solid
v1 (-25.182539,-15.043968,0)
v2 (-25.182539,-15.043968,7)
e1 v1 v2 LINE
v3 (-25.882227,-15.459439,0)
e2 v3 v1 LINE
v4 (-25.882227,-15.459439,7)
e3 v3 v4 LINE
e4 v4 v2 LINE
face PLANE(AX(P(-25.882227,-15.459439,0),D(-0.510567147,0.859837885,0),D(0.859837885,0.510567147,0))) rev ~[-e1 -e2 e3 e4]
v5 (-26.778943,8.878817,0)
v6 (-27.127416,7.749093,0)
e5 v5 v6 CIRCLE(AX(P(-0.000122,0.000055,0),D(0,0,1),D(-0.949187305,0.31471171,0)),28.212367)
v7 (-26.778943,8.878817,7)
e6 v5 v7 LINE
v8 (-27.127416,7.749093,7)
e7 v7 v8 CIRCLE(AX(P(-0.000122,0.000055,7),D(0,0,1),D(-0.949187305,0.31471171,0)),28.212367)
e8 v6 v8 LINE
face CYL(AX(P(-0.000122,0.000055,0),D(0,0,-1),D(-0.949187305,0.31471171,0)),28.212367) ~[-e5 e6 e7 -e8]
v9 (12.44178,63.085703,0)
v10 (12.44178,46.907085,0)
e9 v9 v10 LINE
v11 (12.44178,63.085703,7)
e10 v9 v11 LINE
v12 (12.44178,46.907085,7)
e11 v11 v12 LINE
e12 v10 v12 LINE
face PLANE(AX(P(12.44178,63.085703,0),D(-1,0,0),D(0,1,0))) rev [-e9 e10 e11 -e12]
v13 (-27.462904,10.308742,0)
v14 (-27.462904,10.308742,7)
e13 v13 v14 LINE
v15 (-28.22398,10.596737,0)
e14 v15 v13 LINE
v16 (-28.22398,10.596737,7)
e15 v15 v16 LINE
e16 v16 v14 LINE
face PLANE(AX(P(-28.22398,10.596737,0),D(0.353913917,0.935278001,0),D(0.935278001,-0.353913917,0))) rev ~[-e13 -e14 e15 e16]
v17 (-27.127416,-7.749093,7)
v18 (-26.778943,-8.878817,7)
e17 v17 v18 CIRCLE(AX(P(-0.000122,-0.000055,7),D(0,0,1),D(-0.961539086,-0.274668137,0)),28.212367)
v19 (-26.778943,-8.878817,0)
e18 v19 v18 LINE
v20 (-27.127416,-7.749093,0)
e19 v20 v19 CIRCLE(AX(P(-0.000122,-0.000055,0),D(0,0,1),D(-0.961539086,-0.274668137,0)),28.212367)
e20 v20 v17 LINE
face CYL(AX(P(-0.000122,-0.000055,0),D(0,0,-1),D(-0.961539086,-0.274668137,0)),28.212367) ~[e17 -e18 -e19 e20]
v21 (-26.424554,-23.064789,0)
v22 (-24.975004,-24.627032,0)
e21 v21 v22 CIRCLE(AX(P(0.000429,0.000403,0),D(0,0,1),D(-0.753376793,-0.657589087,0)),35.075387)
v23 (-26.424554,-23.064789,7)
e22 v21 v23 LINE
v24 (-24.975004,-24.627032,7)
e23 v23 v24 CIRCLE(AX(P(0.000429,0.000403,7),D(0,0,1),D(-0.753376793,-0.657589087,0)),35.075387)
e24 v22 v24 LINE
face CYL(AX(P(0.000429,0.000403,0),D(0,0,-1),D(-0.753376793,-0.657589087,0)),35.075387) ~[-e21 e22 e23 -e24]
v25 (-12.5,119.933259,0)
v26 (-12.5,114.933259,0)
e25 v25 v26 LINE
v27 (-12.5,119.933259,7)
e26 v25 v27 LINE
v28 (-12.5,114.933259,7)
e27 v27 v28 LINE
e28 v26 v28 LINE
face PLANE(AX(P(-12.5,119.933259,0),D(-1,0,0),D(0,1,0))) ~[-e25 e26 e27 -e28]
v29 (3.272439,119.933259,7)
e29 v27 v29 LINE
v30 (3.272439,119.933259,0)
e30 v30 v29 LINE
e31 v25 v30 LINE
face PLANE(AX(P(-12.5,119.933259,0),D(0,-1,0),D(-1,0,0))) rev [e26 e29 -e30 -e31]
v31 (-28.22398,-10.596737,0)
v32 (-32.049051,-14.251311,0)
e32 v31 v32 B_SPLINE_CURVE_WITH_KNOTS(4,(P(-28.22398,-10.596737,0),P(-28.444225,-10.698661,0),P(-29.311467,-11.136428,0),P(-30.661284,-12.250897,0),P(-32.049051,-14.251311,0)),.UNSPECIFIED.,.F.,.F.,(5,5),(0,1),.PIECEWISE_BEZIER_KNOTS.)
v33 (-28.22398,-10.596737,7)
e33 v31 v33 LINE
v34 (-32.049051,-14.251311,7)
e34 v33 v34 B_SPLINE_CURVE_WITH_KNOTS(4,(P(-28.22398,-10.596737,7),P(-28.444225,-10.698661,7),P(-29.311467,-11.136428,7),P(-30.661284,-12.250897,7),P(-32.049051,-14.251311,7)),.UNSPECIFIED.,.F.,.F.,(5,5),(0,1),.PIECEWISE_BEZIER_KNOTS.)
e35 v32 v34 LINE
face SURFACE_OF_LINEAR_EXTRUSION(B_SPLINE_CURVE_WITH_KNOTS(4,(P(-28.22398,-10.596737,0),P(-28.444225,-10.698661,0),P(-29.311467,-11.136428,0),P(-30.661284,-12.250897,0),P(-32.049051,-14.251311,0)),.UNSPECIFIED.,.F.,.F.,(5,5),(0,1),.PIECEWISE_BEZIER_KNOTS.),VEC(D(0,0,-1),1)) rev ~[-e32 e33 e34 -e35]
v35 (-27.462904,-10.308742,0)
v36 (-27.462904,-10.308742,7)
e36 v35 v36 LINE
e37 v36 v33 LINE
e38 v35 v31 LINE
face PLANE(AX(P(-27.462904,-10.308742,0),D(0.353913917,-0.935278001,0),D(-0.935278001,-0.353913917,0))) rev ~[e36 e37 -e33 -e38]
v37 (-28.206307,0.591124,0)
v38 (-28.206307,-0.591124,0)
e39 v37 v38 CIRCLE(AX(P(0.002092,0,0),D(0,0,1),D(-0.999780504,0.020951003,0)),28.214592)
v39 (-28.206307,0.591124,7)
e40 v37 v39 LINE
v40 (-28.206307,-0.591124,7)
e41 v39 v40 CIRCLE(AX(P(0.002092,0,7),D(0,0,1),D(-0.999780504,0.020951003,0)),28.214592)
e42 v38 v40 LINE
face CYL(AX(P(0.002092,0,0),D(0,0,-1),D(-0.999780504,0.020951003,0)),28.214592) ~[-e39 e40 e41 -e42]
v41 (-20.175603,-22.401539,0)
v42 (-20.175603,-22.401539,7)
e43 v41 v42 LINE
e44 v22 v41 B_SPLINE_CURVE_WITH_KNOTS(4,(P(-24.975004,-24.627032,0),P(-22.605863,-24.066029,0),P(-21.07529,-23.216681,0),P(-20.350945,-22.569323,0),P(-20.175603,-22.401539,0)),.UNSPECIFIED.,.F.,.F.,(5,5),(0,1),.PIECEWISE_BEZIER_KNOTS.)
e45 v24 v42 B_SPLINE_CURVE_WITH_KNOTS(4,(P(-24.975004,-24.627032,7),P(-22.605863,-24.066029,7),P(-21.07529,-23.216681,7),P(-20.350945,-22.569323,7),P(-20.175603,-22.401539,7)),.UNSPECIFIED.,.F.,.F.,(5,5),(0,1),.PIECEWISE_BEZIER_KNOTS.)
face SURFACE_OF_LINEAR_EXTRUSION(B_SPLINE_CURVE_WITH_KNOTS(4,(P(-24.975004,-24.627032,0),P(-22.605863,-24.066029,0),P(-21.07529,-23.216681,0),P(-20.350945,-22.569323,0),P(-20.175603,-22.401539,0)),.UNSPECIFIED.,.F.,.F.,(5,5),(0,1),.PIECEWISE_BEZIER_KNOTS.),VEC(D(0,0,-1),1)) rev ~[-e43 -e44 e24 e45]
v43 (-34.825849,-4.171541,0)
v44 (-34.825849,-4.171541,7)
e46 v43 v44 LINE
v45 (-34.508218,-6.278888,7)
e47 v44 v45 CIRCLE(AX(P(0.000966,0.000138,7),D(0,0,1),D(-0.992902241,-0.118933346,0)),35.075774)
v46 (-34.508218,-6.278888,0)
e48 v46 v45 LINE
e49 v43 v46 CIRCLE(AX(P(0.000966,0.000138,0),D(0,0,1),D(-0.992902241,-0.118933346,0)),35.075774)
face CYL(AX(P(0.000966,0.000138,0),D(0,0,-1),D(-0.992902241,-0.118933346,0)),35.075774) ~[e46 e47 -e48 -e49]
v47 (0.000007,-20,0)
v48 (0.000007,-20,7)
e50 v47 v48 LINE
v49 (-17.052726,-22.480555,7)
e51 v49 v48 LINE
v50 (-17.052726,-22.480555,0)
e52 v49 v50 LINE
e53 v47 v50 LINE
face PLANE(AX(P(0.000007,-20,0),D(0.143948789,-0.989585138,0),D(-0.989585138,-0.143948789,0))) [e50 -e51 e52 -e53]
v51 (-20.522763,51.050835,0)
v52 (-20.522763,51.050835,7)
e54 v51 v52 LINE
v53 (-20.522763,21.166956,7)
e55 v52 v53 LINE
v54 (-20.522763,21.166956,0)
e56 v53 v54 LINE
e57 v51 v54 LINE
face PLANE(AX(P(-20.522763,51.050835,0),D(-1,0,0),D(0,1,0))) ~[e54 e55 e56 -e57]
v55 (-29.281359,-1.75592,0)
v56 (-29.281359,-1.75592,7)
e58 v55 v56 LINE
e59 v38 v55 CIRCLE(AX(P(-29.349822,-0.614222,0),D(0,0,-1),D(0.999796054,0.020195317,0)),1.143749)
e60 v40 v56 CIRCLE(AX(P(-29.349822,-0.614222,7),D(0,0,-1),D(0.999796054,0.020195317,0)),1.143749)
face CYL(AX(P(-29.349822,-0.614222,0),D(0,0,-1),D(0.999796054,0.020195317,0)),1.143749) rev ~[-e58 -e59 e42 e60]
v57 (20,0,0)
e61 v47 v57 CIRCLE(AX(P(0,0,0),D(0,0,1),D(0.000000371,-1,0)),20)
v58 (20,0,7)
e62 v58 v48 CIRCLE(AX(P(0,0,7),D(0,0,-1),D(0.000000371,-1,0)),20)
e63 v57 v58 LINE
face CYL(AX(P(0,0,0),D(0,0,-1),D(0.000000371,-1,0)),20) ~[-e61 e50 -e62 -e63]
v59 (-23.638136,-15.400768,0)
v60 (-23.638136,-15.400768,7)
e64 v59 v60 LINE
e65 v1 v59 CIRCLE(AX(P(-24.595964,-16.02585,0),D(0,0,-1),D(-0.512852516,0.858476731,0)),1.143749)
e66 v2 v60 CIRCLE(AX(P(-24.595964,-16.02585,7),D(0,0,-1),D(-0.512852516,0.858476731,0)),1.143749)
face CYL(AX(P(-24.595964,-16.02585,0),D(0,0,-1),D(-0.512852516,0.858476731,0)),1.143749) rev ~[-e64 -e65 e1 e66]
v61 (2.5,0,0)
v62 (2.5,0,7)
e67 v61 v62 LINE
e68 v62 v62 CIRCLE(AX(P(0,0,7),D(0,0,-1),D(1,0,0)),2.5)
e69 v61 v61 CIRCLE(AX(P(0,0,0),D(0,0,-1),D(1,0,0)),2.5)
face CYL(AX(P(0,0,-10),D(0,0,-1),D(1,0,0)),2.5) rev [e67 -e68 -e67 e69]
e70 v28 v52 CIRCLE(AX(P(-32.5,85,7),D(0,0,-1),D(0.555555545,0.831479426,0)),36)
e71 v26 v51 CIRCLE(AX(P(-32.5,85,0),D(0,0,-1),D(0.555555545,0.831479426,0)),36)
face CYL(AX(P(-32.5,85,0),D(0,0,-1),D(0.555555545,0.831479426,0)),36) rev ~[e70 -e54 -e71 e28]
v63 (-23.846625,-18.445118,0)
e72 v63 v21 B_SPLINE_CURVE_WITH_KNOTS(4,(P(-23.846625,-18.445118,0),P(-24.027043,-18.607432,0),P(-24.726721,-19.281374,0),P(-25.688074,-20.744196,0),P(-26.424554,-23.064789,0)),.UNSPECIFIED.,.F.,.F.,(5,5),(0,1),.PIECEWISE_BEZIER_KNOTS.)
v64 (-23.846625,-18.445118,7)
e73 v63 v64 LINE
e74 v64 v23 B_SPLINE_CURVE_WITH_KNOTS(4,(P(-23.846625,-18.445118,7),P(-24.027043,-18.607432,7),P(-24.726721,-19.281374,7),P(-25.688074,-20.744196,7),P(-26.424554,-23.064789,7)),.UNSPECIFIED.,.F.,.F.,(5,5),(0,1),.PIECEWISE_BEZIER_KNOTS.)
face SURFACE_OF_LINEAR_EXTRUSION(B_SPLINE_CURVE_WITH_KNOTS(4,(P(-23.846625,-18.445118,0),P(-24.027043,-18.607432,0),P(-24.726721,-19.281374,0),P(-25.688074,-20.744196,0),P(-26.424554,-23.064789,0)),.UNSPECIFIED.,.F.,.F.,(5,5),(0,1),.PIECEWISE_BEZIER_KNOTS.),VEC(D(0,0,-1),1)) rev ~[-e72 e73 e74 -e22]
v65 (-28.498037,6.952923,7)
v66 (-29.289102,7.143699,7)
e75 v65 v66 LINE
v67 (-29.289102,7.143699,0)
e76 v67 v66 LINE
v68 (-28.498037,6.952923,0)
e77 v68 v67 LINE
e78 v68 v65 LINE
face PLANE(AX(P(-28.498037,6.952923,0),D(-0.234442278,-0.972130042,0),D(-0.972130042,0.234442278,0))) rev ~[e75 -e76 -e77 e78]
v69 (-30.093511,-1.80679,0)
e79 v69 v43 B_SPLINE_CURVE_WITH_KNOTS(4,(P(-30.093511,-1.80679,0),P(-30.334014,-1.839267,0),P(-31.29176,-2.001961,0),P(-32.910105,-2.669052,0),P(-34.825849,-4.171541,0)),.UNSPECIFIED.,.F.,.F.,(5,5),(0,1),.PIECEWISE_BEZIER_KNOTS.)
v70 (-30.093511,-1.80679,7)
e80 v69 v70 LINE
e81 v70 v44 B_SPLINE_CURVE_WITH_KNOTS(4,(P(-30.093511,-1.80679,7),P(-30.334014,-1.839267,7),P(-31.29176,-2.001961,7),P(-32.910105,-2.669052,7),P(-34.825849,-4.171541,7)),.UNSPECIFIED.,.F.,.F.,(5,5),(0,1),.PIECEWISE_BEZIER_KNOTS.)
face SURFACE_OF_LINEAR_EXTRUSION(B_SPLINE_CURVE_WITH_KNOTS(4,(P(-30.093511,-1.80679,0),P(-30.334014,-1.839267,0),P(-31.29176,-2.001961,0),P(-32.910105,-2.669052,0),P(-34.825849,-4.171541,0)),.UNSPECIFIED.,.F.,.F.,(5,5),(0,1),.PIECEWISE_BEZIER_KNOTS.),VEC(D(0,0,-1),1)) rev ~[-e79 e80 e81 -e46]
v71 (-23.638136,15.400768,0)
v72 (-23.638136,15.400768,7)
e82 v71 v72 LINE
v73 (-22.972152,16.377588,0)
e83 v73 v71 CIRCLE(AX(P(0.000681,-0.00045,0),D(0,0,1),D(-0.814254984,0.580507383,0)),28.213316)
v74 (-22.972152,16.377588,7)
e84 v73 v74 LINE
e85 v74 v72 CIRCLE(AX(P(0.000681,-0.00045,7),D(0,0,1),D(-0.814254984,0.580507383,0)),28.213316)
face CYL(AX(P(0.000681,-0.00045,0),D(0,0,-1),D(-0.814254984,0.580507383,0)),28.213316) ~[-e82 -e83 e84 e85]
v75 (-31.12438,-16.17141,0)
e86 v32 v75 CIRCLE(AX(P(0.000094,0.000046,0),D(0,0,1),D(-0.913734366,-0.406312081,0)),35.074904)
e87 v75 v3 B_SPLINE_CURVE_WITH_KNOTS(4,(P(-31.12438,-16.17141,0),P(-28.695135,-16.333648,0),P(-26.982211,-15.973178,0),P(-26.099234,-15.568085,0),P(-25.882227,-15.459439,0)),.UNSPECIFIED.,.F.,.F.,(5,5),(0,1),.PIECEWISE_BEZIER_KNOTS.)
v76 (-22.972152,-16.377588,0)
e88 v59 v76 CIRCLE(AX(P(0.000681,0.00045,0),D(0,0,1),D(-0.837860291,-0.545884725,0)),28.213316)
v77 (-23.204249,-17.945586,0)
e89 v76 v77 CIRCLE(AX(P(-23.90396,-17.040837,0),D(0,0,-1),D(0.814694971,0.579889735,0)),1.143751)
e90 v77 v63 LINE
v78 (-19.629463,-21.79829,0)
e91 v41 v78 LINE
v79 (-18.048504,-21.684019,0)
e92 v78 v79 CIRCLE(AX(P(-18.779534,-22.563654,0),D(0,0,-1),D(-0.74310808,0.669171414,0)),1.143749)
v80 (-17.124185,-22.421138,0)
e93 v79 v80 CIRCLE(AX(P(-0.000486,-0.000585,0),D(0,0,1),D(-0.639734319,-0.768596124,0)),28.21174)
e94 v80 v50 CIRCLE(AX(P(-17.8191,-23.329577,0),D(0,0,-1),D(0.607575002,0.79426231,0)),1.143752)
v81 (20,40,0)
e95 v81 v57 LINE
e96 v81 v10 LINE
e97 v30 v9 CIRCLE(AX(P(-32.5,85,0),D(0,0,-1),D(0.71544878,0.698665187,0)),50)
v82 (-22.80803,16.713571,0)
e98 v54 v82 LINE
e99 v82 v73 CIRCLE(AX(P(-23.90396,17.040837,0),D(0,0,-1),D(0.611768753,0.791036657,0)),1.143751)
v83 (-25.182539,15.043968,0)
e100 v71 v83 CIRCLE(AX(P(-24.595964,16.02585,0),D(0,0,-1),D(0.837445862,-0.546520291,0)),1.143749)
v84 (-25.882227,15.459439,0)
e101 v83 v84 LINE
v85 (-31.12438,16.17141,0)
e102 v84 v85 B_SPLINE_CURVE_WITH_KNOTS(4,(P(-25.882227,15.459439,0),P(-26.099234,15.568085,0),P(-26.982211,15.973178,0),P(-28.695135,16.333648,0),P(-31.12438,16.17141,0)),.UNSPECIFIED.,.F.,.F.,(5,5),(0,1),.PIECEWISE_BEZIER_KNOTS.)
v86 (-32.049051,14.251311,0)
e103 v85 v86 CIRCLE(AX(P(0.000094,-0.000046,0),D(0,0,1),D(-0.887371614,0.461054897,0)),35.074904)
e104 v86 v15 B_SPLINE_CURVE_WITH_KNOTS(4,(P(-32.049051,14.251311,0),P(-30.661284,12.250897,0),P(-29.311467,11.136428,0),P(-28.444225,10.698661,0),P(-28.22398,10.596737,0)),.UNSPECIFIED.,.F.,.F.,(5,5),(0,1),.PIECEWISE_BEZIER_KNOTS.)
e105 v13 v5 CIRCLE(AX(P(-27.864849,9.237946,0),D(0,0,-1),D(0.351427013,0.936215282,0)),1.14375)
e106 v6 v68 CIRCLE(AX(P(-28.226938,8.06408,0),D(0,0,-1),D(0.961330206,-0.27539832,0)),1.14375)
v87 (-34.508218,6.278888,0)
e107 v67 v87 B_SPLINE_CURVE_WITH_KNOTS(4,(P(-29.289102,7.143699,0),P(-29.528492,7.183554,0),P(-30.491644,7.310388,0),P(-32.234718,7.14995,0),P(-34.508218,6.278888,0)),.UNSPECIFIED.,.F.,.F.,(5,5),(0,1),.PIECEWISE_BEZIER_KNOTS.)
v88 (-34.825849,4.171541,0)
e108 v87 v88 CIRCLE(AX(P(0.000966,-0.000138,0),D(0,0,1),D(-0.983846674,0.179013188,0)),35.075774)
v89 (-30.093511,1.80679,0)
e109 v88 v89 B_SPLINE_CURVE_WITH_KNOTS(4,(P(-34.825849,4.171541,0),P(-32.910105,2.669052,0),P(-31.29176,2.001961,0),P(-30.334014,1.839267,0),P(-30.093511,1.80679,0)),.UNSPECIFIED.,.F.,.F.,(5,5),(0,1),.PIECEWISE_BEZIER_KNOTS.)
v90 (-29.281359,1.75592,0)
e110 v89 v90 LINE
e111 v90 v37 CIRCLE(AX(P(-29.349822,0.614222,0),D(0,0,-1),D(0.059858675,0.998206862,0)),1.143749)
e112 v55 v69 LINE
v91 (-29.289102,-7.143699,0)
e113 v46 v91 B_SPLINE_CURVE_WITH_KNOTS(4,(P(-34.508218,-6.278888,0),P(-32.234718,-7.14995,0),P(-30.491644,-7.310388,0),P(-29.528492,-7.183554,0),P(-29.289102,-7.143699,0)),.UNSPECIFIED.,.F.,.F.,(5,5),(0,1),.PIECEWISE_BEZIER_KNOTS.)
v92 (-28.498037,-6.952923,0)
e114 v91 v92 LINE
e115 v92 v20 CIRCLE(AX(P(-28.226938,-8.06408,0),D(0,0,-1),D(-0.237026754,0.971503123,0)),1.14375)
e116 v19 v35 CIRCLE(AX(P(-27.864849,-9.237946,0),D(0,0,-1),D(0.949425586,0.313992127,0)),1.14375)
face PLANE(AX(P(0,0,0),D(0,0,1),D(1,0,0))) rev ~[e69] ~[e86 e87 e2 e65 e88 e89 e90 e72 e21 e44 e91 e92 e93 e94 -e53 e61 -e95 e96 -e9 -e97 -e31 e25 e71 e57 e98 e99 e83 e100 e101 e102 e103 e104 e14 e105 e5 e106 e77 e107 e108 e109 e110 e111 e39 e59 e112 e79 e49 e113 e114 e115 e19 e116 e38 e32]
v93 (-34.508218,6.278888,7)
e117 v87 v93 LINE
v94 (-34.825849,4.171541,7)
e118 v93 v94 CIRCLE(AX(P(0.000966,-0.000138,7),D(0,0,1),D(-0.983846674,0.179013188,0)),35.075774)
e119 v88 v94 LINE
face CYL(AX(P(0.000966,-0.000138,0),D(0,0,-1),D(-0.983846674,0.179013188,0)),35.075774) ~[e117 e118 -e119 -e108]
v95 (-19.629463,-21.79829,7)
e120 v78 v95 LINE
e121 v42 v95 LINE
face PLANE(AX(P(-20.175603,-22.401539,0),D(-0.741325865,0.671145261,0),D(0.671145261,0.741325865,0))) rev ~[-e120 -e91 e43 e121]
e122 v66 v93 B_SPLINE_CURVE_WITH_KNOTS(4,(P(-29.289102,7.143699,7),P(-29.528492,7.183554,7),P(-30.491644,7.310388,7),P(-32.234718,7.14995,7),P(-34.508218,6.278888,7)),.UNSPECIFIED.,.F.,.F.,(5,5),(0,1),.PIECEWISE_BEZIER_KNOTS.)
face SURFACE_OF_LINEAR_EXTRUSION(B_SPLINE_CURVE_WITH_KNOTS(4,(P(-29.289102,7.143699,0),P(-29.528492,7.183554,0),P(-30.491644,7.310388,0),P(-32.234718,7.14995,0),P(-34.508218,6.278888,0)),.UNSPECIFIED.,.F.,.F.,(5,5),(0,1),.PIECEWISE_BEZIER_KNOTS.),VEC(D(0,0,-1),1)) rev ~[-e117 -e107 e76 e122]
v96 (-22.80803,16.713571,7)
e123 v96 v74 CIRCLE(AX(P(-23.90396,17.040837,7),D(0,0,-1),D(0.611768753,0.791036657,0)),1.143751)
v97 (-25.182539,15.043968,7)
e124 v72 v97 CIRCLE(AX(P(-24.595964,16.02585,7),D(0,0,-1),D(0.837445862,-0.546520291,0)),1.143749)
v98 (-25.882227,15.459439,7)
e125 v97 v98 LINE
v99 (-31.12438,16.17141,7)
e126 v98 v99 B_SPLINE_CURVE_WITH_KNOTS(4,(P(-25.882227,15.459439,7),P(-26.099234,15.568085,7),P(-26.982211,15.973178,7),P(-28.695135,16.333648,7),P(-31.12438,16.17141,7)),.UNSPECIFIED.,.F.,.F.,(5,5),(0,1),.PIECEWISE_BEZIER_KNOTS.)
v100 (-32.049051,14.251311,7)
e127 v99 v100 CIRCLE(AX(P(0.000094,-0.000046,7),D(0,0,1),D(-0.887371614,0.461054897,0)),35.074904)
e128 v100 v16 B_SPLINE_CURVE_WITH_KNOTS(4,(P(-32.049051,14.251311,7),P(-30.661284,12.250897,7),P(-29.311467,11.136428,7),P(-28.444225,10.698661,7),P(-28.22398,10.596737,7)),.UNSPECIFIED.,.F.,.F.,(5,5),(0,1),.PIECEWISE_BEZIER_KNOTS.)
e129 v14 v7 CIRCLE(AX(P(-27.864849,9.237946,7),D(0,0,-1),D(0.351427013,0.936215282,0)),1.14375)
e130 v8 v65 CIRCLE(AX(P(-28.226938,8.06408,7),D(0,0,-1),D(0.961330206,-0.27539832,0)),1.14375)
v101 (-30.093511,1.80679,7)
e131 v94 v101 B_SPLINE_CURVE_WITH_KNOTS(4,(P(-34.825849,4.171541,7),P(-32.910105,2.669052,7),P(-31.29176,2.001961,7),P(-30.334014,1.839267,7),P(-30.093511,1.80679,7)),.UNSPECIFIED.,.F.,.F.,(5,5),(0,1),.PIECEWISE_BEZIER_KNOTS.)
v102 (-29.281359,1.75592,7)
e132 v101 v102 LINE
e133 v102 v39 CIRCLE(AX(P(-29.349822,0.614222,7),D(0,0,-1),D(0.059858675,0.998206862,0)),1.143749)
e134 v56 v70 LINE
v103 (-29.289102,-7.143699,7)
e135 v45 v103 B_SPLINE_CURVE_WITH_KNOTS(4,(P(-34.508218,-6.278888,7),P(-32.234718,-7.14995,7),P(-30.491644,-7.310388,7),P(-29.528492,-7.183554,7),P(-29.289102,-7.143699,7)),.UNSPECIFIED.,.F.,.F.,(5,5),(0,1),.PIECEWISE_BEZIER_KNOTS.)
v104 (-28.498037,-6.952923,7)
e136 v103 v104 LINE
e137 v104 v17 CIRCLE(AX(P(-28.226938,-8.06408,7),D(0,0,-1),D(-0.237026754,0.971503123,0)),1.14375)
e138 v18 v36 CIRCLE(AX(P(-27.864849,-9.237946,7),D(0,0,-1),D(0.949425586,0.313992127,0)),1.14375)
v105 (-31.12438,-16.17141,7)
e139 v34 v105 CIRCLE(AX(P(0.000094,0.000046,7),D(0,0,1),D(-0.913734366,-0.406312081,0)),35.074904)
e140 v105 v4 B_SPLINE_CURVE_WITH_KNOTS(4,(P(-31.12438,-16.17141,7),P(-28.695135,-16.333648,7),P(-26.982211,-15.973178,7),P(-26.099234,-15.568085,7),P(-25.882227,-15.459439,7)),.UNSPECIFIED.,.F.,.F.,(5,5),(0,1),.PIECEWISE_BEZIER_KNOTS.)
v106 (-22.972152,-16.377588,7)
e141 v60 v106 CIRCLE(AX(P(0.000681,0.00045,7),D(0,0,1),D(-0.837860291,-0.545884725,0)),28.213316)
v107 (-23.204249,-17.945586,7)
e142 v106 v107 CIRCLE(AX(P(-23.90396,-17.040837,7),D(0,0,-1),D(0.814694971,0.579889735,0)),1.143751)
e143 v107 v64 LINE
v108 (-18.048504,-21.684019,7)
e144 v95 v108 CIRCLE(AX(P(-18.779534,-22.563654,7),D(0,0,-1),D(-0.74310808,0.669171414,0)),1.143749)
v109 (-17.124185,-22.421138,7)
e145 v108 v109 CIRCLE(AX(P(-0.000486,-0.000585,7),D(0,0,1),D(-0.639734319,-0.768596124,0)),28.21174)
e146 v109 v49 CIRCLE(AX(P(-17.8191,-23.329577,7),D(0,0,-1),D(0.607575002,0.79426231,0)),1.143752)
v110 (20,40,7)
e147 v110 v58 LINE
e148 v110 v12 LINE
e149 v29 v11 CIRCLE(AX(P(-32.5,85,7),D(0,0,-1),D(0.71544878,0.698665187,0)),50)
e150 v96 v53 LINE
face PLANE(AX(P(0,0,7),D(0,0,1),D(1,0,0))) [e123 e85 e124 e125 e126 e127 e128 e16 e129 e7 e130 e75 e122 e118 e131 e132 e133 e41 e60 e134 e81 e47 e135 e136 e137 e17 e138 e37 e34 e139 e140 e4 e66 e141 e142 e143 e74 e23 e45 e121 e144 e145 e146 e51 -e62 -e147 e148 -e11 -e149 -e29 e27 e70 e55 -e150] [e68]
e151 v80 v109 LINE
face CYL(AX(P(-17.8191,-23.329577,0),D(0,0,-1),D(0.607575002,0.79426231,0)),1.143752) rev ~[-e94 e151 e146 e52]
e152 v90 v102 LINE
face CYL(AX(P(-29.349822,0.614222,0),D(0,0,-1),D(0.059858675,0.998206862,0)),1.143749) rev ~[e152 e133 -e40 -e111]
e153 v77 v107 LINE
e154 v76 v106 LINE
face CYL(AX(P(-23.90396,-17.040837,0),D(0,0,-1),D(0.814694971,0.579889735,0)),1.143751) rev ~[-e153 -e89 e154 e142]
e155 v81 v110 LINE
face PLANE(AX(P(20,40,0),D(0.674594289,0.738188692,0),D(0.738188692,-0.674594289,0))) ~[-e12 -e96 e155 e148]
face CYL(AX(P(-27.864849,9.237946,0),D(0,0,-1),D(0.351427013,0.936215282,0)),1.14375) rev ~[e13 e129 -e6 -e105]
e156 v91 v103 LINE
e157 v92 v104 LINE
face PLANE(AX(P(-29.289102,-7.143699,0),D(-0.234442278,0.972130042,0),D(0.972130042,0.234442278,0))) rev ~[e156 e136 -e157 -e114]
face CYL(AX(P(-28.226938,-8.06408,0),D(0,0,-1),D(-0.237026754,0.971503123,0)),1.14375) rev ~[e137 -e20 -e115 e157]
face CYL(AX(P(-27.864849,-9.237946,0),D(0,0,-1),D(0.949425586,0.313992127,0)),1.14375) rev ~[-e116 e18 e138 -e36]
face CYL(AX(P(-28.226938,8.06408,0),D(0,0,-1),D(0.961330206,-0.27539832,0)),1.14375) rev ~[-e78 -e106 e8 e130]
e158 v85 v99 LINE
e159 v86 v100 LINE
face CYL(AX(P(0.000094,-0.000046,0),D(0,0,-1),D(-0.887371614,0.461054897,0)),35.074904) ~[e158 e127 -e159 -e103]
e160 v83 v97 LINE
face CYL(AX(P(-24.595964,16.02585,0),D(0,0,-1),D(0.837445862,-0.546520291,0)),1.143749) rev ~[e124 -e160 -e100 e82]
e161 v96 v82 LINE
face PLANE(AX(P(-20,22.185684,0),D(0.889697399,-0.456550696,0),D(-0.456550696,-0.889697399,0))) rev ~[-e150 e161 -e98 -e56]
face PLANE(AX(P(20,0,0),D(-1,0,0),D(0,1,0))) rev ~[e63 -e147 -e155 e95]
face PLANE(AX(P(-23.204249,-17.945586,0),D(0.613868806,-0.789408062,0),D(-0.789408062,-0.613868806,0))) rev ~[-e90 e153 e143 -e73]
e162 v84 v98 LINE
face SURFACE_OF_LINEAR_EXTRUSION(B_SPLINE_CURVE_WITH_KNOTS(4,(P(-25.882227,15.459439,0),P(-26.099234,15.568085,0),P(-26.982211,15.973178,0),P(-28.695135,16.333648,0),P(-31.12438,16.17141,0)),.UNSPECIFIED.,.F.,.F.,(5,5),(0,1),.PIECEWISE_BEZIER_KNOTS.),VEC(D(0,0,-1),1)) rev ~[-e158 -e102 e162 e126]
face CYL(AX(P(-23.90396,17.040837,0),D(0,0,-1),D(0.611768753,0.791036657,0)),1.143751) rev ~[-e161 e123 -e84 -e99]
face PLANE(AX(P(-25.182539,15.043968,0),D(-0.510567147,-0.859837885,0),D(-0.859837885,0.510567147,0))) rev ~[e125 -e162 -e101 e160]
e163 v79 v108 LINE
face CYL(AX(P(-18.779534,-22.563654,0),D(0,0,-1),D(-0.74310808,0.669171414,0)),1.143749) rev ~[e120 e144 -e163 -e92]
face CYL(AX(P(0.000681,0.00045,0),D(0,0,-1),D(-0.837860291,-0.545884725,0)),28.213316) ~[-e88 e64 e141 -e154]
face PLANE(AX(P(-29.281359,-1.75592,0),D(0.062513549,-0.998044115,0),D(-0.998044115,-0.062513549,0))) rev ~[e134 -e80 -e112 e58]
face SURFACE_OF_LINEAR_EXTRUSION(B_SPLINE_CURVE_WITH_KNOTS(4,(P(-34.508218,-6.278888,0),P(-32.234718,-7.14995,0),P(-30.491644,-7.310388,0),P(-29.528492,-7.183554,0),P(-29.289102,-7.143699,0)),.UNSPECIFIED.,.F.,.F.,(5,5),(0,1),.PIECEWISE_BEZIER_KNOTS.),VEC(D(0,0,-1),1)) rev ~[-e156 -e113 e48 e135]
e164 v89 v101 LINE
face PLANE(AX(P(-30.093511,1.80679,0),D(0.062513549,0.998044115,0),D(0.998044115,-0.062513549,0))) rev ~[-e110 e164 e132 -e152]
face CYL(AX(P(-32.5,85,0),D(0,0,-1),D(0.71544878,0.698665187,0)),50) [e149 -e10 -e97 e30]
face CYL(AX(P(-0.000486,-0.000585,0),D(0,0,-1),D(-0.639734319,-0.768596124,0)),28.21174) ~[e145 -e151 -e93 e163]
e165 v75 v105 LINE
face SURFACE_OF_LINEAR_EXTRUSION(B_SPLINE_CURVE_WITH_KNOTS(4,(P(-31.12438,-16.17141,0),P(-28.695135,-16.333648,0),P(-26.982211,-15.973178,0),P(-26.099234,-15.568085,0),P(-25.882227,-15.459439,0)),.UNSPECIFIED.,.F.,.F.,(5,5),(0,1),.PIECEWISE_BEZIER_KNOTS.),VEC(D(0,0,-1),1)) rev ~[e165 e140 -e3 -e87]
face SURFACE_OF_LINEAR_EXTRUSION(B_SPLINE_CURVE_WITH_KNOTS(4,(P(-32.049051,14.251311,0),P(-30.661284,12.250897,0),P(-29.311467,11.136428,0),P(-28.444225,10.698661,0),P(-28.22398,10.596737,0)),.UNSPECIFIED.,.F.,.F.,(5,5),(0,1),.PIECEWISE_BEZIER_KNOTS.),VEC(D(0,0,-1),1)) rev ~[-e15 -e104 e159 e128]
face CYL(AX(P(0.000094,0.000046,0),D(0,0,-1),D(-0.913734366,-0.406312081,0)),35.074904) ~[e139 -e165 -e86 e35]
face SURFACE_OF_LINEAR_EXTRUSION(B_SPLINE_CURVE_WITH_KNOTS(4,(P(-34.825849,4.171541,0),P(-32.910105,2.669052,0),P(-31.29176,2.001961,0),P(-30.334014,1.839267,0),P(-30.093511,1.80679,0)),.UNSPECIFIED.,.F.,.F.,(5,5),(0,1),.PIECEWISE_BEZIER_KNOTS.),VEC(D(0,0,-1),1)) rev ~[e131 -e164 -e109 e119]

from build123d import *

# Parameters (mm, degrees)
PAD005_DEPTH      = 10
CYLINDER001_R     = 2.5
CYLINDER001_DEPTH = 30
PAD_DEPTH         = 7
PAD001_DEPTH      = 7


with BuildPart() as gearcutter_d:
    # Sketch007 → Pad005 (new body)
    with BuildSketch(Plane.XY):
        with BuildLine():
            Line((20, 31.95888), (45.304215, 31.95888))
            Line((45.304215, 31.95888), (45.304215, -33.652056))
            Line((45.304215, -33.652056), (23.213182, -33.652056))
            Line((-17.372387, -39.01239), (23.213182, -33.652056))
            Line((-25.984375, -33.578197), (-17.372387, -39.01239))
            Line((-17.23691, -22.507347), (-25.984375, -33.578197))
            Line((7e-06, -20), (-17.23691, -22.507347))
            ThreePointArc((7e-06, -20), (14.142138, -14.142133), (20, 0))
            Line((20, 0), (20, 31.95888))
        make_face()
        Polygon((-20, 22.185684), (-22.978563, 16.381247), (-30, 23.81991), (-24.00174, 30), align=None)
    extrude(amount=PAD005_DEPTH)


with BuildPart() as hole:
    # Cylinder001 → Cylinder001 (new body)
    with BuildSketch(Plane.XY.offset(-10)):
        Circle(CYLINDER001_R)
    extrude(amount=CYLINDER001_DEPTH)


with BuildPart() as cut002:
    # InvoluteGear → Pad (new body)
    with BuildSketch(Plane.XY):
        with BuildLine():
            Line((29.216017, -2.627852), (30.02668, -2.698596))
            add(Edge.make_bspline(
                [(30.02668, -2.698596), (30.269336, -2.702327), (31.240634, -2.684194), (32.940327, -2.265756), (35.058609, -1.065575)],
                knots=[0, 0, 0, 0, 0, 1, 1, 1, 1, 1], degree=4))
            ThreePointArc((35.058609, -1.065575), (35.074799, 0), (35.058609, 1.065575))
            add(Edge.make_bspline(
                [(35.058609, 1.065575), (32.940327, 2.265756), (31.240634, 2.684194), (30.269336, 2.702327), (30.02668, 2.698596)],
                knots=[0, 0, 0, 0, 0, 1, 1, 1, 1, 1], degree=4))
            Line((30.02668, 2.698596), (29.216017, 2.627852))
            ThreePointArc((29.216017, 2.627852), (28.398075, 2.874673), (27.979368, 3.61941))
            ThreePointArc((27.979368, 3.61941), (27.89739, 4.204855), (27.803163, 4.788454))
            ThreePointArc((27.803163, 4.788454), (27.983753, 5.62352), (28.692604, 6.100468))
            Line((28.692604, 6.100468), (29.488104, 6.271815))
            add(Edge.make_bspline(
                [(29.488104, 6.271815), (29.72108, 6.339774), (30.64388, 6.643396), (32.144724, 7.544237), (33.815137, 9.315472)],
                knots=[0, 0, 0, 0, 0, 1, 1, 1, 1, 1], degree=4))
            ThreePointArc((33.815137, 9.315472), (33.516524, 10.338478), (33.18697, 11.351941))
            add(Edge.make_bspline(
                [(33.18697, 11.351941), (30.809038, 11.874427), (29.06152, 11.773281), (28.12803, 11.504313), (27.897254, 11.429224)],
                knots=[0, 0, 0, 0, 0, 1, 1, 1, 1, 1], degree=4))
            Line((27.897254, 11.429224), (27.143458, 11.122676))
            ThreePointArc((27.143458, 11.122676), (26.289104, 11.117439), (25.669483, 11.705673))
            ThreePointArc((25.669483, 11.705673), (25.418584, 12.240945), (25.156525, 12.770842))
            ThreePointArc((25.156525, 12.770842), (25.082952, 13.622039), (25.619728, 14.286735))
            Line((25.619728, 14.286735), (26.32938, 14.684947))
            add(Edge.make_bspline(
                [(26.32938, 14.684947), (26.531974, 14.818557), (27.324283, 15.380691), (28.492921, 16.683892), (29.567042, 18.868799)],
                knots=[0, 0, 0, 0, 0, 1, 1, 1, 1, 1], degree=4))
            ThreePointArc((29.567042, 18.868799), (28.980159, 19.758338), (28.366523, 20.629637))
            add(Edge.make_bspline(
                [(28.366523, 20.629637), (25.94023, 20.428003), (24.300163, 19.816261), (23.487425, 19.284092), (23.289034, 19.144315)],
                knots=[0, 0, 0, 0, 0, 1, 1, 1, 1, 1], degree=4))
            Line((23.289034, 19.144315), (22.659084, 18.629202))
            ThreePointArc((22.659084, 18.629202), (21.84423, 18.372372), (21.078752, 18.751836))
            ThreePointArc((21.078752, 18.751836), (20.681226, 19.189373), (20.274619, 19.618485))
            ThreePointArc((20.274619, 19.618485), (19.95342, 20.41018), (20.270426, 21.203563))
            Line((20.270426, 21.203563), (20.831176, 21.793257))
            add(Edge.make_bspline(
                [(20.831176, 21.793257), (20.985387, 21.980647), (21.576804, 22.751344), (22.309397, 24.341109), (22.691785, 26.745549)],
                knots=[0, 0, 0, 0, 0, 1, 1, 1, 1, 1], degree=4))
            ThreePointArc((22.691785, 26.745549), (21.868779, 27.422582), (21.025585, 28.074299))
            add(Edge.make_bspline(
                [(21.025585, 28.074299), (18.766519, 27.166461), (17.37963, 26.098479), (16.759858, 25.350393), (16.611482, 25.15835)],
                knots=[0, 0, 0, 0, 0, 1, 1, 1, 1, 1], degree=4))
            Line((16.611482, 25.15835), (16.161351, 24.480441))
            ThreePointArc((16.161351, 24.480441), (15.4584, 23.994839), (14.615082, 24.131816))
            ThreePointArc((14.615082, 24.131816), (14.10625, 24.432742), (13.591225, 24.72294))
            ThreePointArc((13.591225, 24.72294), (13.05094, 25.384787), (13.120008, 26.236361))
            Line((13.120008, 26.236361), (13.48203, 26.96514))
            add(Edge.make_bspline(
                [(13.48203, 26.96514), (13.574155, 27.18966), (13.912131, 28.10044), (14.143586, 29.835512), (13.800264, 32.245841)],
                knots=[0, 0, 0, 0, 0, 1, 1, 1, 1, 1], degree=4))
            ThreePointArc((13.800264, 32.245841), (12.814263, 32.65021), (11.816433, 33.024437))
            add(Edge.make_bspline(
                [(11.816433, 33.024437), (9.92532, 31.49106), (8.91484, 30.061732), (8.543105, 29.164202), (8.457926, 28.936956)],
                knots=[0, 0, 0, 0, 0, 1, 1, 1, 1, 1], degree=4))
            Line((8.457926, 28.936956), (8.227611, 28.156485))
            ThreePointArc((8.227611, 28.156485), (7.699024, 27.485259), (6.852797, 27.367578))
            ThreePointArc((6.852797, 27.367578), (6.277872, 27.505154), (5.70019, 27.630653))
            ThreePointArc((5.70019, 27.630653), (4.988826, 28.103844), (4.80382, 28.937943))
            Line((4.80382, 28.937943), (4.934946, 29.741053))
            add(Edge.make_bspline(
                [(4.934946, 29.741053), (4.956801, 29.982752), (5.011304, 30.952689), (4.721054, 32.678899), (3.682528, 34.880948)],
                knots=[0, 0, 0, 0, 0, 1, 1, 1, 1, 1], degree=4))
            ThreePointArc((3.682528, 34.880948), (2.621143, 34.976723), (1.557338, 35.040209))
            add(Edge.make_bspline(
                [(1.557338, 35.040209), (0.202213, 33.01754), (-0.342073, 31.353869), (-0.43274, 30.386642), (-0.447153, 30.144385)],
                knots=[0, 0, 0, 0, 0, 1, 1, 1, 1, 1], degree=4))
            Line((-0.447153, 30.144385), (-0.437188, 29.330703))
            ThreePointArc((-0.437188, 29.330703), (-0.744444, 28.533493), (-1.518389, 28.171611))
            ThreePointArc((-1.518389, 28.171611), (-2.108323, 28.133612), (-2.697331, 28.083261))
            ThreePointArc((-2.697331, 28.083261), (-3.516567, 28.325751), (-3.939209, 29.068262))
            Line((-3.939209, 29.068262), (-4.050629, 29.874342))
            add(Edge.make_bspline(
                [(-4.050629, 29.874342), (-4.100987, 30.111745), (-4.3348, 31.054656), (-5.120964, 32.618623), (-6.762416, 34.416729)],
                knots=[0, 0, 0, 0, 0, 1, 1, 1, 1, 1], degree=4))
            ThreePointArc((-6.762416, 34.416729), (-7.804877, 34.195401), (-8.840133, 33.942504))
            add(Edge.make_bspline(
                [(-8.840133, 33.942504), (-9.538861, 31.610267), (-9.56859, 29.860077), (-9.370135, 28.909097), (-9.312501, 28.673354)],
                knots=[0, 0, 0, 0, 0, 1, 1, 1, 1, 1], degree=4))
            Line((-9.312501, 28.673354), (-9.063142, 27.898758))
            ThreePointArc((-9.063142, 27.898758), (-9.121765, 27.046401), (-9.754659, 26.472472))
            ThreePointArc((-9.754659, 26.472472), (-10.307184, 26.262276), (-10.855183, 26.040548))
            ThreePointArc((-10.855183, 26.040548), (-11.709498, 26.030791), (-12.332222, 26.615739))
            Line((-12.332222, 26.615739), (-12.676288, 27.353165))
            add(Edge.make_bspline(
                [(-12.676288, 27.353165), (-12.794385, 27.565178), (-13.295737, 28.39728), (-14.507962, 29.660038), (-16.60649, 30.894434)],
                knots=[0, 0, 0, 0, 0, 1, 1, 1, 1, 1], degree=4))
            ThreePointArc((-16.60649, 30.894434), (-17.537399, 30.375667), (-18.452119, 29.828859))
            add(Edge.make_bspline(
                [(-18.452119, 29.828859), (-18.432366, 27.394282), (-17.944897, 25.713086), (-17.474952, 24.862851), (-17.350392, 24.65457)],
                knots=[0, 0, 0, 0, 0, 1, 1, 1, 1, 1], degree=4))
            Line((-17.350392, 24.65457), (-16.883795, 23.987887))
            ThreePointArc((-16.883795, 23.987887), (-16.688578, 23.156118), (-17.124185, 22.421138))
            ThreePointArc((-17.124185, 22.421138), (-17.590206, 22.057421), (-18.048504, 21.684019))
            ThreePointArc((-18.048504, 21.684019), (-18.861988, 21.422881), (-19.629463, 21.79829))
            Line((-19.629463, 21.79829), (-20.175603, 22.401539))
            add(Edge.make_bspline(
                [(-20.175603, 22.401539), (-20.350945, 22.569323), (-21.07529, 23.216681), (-22.605863, 24.066029), (-24.975004, 24.627032)],
                knots=[0, 0, 0, 0, 0, 1, 1, 1, 1, 1], degree=4))
            ThreePointArc((-24.975004, 24.627032), (-25.711647, 23.856922), (-26.424554, 23.064789))
            add(Edge.make_bspline(
                [(-26.424554, 23.064789), (-25.688074, 20.744196), (-24.726721, 19.281374), (-24.027043, 18.607432), (-23.846625, 18.445118)],
                knots=[0, 0, 0, 0, 0, 1, 1, 1, 1, 1], degree=4))
            Line((-23.846625, 18.445118), (-23.204249, 17.945586))
            ThreePointArc((-23.204249, 17.945586), (-22.772537, 17.208312), (-22.972152, 16.377588))
            ThreePointArc((-22.972152, 16.377588), (-23.310261, 15.892667), (-23.638136, 15.400768))
            ThreePointArc((-23.638136, 15.400768), (-24.338508, 14.911454), (-25.182539, 15.043968))
            Line((-25.182539, 15.043968), (-25.882227, 15.459439))
            add(Edge.make_bspline(
                [(-25.882227, 15.459439), (-26.099234, 15.568085), (-26.982211, 15.973178), (-28.695135, 16.333648), (-31.12438, 16.17141)],
                knots=[0, 0, 0, 0, 0, 1, 1, 1, 1, 1], degree=4))
            ThreePointArc((-31.12438, 16.17141), (-31.601302, 15.218385), (-32.049051, 14.251311))
            add(Edge.make_bspline(
                [(-32.049051, 14.251311), (-30.661284, 12.250897), (-29.311467, 11.136428), (-28.444225, 10.698661), (-28.22398, 10.596737)],
                knots=[0, 0, 0, 0, 0, 1, 1, 1, 1, 1], degree=4))
            Line((-28.22398, 10.596737), (-27.462904, 10.308742))
            ThreePointArc((-27.462904, 10.308742), (-26.833056, 9.731472), (-26.778943, 8.878817))
            ThreePointArc((-26.778943, 8.878817), (-26.959098, 8.31578), (-27.127416, 7.749093))
            ThreePointArc((-27.127416, 7.749093), (-27.652445, 7.075079), (-28.498037, 6.952923))
            Line((-28.498037, 6.952923), (-29.289102, 7.143699))
            add(Edge.make_bspline(
                [(-29.289102, 7.143699), (-29.528492, 7.183554), (-30.491644, 7.310388), (-32.234718, 7.14995), (-34.508218, 6.278888)],
                knots=[0, 0, 0, 0, 0, 1, 1, 1, 1, 1], degree=4))
            ThreePointArc((-34.508218, 6.278888), (-34.683042, 5.227628), (-34.825849, 4.171541))
            add(Edge.make_bspline(
                [(-34.825849, 4.171541), (-32.910105, 2.669052), (-31.29176, 2.001961), (-30.334014, 1.839267), (-30.093511, 1.80679)],
                knots=[0, 0, 0, 0, 0, 1, 1, 1, 1, 1], degree=4))
            Line((-30.093511, 1.80679), (-29.281359, 1.75592))
            ThreePointArc((-29.281359, 1.75592), (-28.50934, 1.389948), (-28.206307, 0.591124))
            ThreePointArc((-28.206307, 0.591124), (-28.2125, 0), (-28.206307, -0.591124))
            ThreePointArc((-28.206307, -0.591124), (-28.50934, -1.389948), (-29.281359, -1.75592))
            Line((-29.281359, -1.75592), (-30.093511, -1.80679))
            add(Edge.make_bspline(
                [(-30.093511, -1.80679), (-30.334014, -1.839267), (-31.29176, -2.001961), (-32.910105, -2.669052), (-34.825849, -4.171541)],
                knots=[0, 0, 0, 0, 0, 1, 1, 1, 1, 1], degree=4))
            ThreePointArc((-34.825849, -4.171541), (-34.683042, -5.227628), (-34.508218, -6.278888))
            add(Edge.make_bspline(
                [(-34.508218, -6.278888), (-32.234718, -7.14995), (-30.491644, -7.310388), (-29.528492, -7.183554), (-29.289102, -7.143699)],
                knots=[0, 0, 0, 0, 0, 1, 1, 1, 1, 1], degree=4))
            Line((-29.289102, -7.143699), (-28.498037, -6.952923))
            ThreePointArc((-28.498037, -6.952923), (-27.652445, -7.075079), (-27.127416, -7.749093))
            ThreePointArc((-27.127416, -7.749093), (-26.959098, -8.31578), (-26.778943, -8.878817))
            ThreePointArc((-26.778943, -8.878817), (-26.833056, -9.731472), (-27.462904, -10.308742))
            Line((-27.462904, -10.308742), (-28.22398, -10.596737))
            add(Edge.make_bspline(
                [(-28.22398, -10.596737), (-28.444225, -10.698661), (-29.311467, -11.136428), (-30.661284, -12.250897), (-32.049051, -14.251311)],
                knots=[0, 0, 0, 0, 0, 1, 1, 1, 1, 1], degree=4))
            ThreePointArc((-32.049051, -14.251311), (-31.601302, -15.218385), (-31.12438, -16.17141))
            add(Edge.make_bspline(
                [(-31.12438, -16.17141), (-28.695135, -16.333648), (-26.982211, -15.973178), (-26.099234, -15.568085), (-25.882227, -15.459439)],
                knots=[0, 0, 0, 0, 0, 1, 1, 1, 1, 1], degree=4))
            Line((-25.882227, -15.459439), (-25.182539, -15.043968))
            ThreePointArc((-25.182539, -15.043968), (-24.338508, -14.911454), (-23.638136, -15.400768))
            ThreePointArc((-23.638136, -15.400768), (-23.310261, -15.892667), (-22.972152, -16.377588))
            ThreePointArc((-22.972152, -16.377588), (-22.772537, -17.208312), (-23.204249, -17.945586))
            Line((-23.204249, -17.945586), (-23.846625, -18.445118))
            add(Edge.make_bspline(
                [(-23.846625, -18.445118), (-24.027043, -18.607432), (-24.726721, -19.281374), (-25.688074, -20.744196), (-26.424554, -23.064789)],
                knots=[0, 0, 0, 0, 0, 1, 1, 1, 1, 1], degree=4))
            ThreePointArc((-26.424554, -23.064789), (-25.711647, -23.856922), (-24.975004, -24.627032))
            add(Edge.make_bspline(
                [(-24.975004, -24.627032), (-22.605863, -24.066029), (-21.07529, -23.216681), (-20.350945, -22.569323), (-20.175603, -22.401539)],
                knots=[0, 0, 0, 0, 0, 1, 1, 1, 1, 1], degree=4))
            Line((-20.175603, -22.401539), (-19.629463, -21.79829))
            ThreePointArc((-19.629463, -21.79829), (-18.861988, -21.422881), (-18.048504, -21.684019))
            ThreePointArc((-18.048504, -21.684019), (-17.590206, -22.057421), (-17.124185, -22.421138))
            ThreePointArc((-17.124185, -22.421138), (-16.688578, -23.156118), (-16.883795, -23.987887))
            Line((-16.883795, -23.987887), (-17.350392, -24.65457))
            add(Edge.make_bspline(
                [(-17.350392, -24.65457), (-17.474952, -24.862851), (-17.944897, -25.713086), (-18.432366, -27.394282), (-18.452119, -29.828859)],
                knots=[0, 0, 0, 0, 0, 1, 1, 1, 1, 1], degree=4))
            ThreePointArc((-18.452119, -29.828859), (-17.537399, -30.375667), (-16.60649, -30.894434))
            add(Edge.make_bspline(
                [(-16.60649, -30.894434), (-14.507962, -29.660038), (-13.295737, -28.39728), (-12.794385, -27.565178), (-12.676288, -27.353165)],
                knots=[0, 0, 0, 0, 0, 1, 1, 1, 1, 1], degree=4))
            Line((-12.676288, -27.353165), (-12.332222, -26.615739))
            ThreePointArc((-12.332222, -26.615739), (-11.709498, -26.030791), (-10.855183, -26.040548))
            ThreePointArc((-10.855183, -26.040548), (-10.307184, -26.262276), (-9.754659, -26.472472))
            ThreePointArc((-9.754659, -26.472472), (-9.121765, -27.046401), (-9.063142, -27.898758))
            Line((-9.063142, -27.898758), (-9.312501, -28.673354))
            add(Edge.make_bspline(
                [(-9.312501, -28.673354), (-9.370135, -28.909097), (-9.56859, -29.860077), (-9.538861, -31.610267), (-8.840133, -33.942504)],
                knots=[0, 0, 0, 0, 0, 1, 1, 1, 1, 1], degree=4))
            ThreePointArc((-8.840133, -33.942504), (-7.804877, -34.195401), (-6.762416, -34.416729))
            add(Edge.make_bspline(
                [(-6.762416, -34.416729), (-5.120964, -32.618623), (-4.3348, -31.054656), (-4.100987, -30.111745), (-4.050629, -29.874342)],
                knots=[0, 0, 0, 0, 0, 1, 1, 1, 1, 1], degree=4))
            Line((-4.050629, -29.874342), (-3.939209, -29.068262))
            ThreePointArc((-3.939209, -29.068262), (-3.516567, -28.325751), (-2.697331, -28.083261))
            ThreePointArc((-2.697331, -28.083261), (-2.108323, -28.133612), (-1.518389, -28.171611))
            ThreePointArc((-1.518389, -28.171611), (-0.744444, -28.533493), (-0.437188, -29.330703))
            Line((-0.437188, -29.330703), (-0.447153, -30.144385))
            add(Edge.make_bspline(
                [(-0.447153, -30.144385), (-0.43274, -30.386642), (-0.342073, -31.353869), (0.202213, -33.01754), (1.557338, -35.040209)],
                knots=[0, 0, 0, 0, 0, 1, 1, 1, 1, 1], degree=4))
            ThreePointArc((1.557338, -35.040209), (2.621143, -34.976723), (3.682528, -34.880948))
            add(Edge.make_bspline(
                [(3.682528, -34.880948), (4.721054, -32.678899), (5.011304, -30.952689), (4.956801, -29.982752), (4.934946, -29.741053)],
                knots=[0, 0, 0, 0, 0, 1, 1, 1, 1, 1], degree=4))
            Line((4.934946, -29.741053), (4.80382, -28.937943))
            ThreePointArc((4.80382, -28.937943), (4.988826, -28.103844), (5.70019, -27.630653))
            ThreePointArc((5.70019, -27.630653), (6.277872, -27.505154), (6.852797, -27.367578))
            ThreePointArc((6.852797, -27.367578), (7.699024, -27.485259), (8.227611, -28.156485))
            Line((8.227611, -28.156485), (8.457926, -28.936956))
            add(Edge.make_bspline(
                [(8.457926, -28.936956), (8.543105, -29.164202), (8.91484, -30.061732), (9.92532, -31.49106), (11.816433, -33.024437)],
                knots=[0, 0, 0, 0, 0, 1, 1, 1, 1, 1], degree=4))
            ThreePointArc((11.816433, -33.024437), (12.814263, -32.65021), (13.800264, -32.245841))
            add(Edge.make_bspline(
                [(13.800264, -32.245841), (14.143586, -29.835512), (13.912131, -28.10044), (13.574155, -27.18966), (13.48203, -26.96514)],
                knots=[0, 0, 0, 0, 0, 1, 1, 1, 1, 1], degree=4))
            Line((13.48203, -26.96514), (13.120008, -26.236361))
            ThreePointArc((13.120008, -26.236361), (13.05094, -25.384787), (13.591225, -24.72294))
            ThreePointArc((13.591225, -24.72294), (14.10625, -24.432742), (14.615082, -24.131816))
            ThreePointArc((14.615082, -24.131816), (15.4584, -23.994839), (16.161351, -24.480441))
            Line((16.161351, -24.480441), (16.611482, -25.15835))
            add(Edge.make_bspline(
                [(16.611482, -25.15835), (16.759858, -25.350393), (17.37963, -26.098479), (18.766519, -27.166461), (21.025585, -28.074299)],
                knots=[0, 0, 0, 0, 0, 1, 1, 1, 1, 1], degree=4))
            ThreePointArc((21.025585, -28.074299), (21.868779, -27.422582), (22.691785, -26.745549))
            add(Edge.make_bspline(
                [(22.691785, -26.745549), (22.309397, -24.341109), (21.576804, -22.751344), (20.985387, -21.980647), (20.831176, -21.793257)],
                knots=[0, 0, 0, 0, 0, 1, 1, 1, 1, 1], degree=4))
            Line((20.831176, -21.793257), (20.270426, -21.203563))
            ThreePointArc((20.270426, -21.203563), (19.95342, -20.41018), (20.274619, -19.618485))
            ThreePointArc((20.274619, -19.618485), (20.681226, -19.189373), (21.078752, -18.751836))
            ThreePointArc((21.078752, -18.751836), (21.84423, -18.372372), (22.659084, -18.629202))
            Line((22.659084, -18.629202), (23.289034, -19.144315))
            add(Edge.make_bspline(
                [(23.289034, -19.144315), (23.487425, -19.284092), (24.300163, -19.816261), (25.94023, -20.428003), (28.366523, -20.629637)],
                knots=[0, 0, 0, 0, 0, 1, 1, 1, 1, 1], degree=4))
            ThreePointArc((28.366523, -20.629637), (28.980159, -19.758338), (29.567042, -18.868799))
            add(Edge.make_bspline(
                [(29.567042, -18.868799), (28.492921, -16.683892), (27.324283, -15.380691), (26.531974, -14.818557), (26.32938, -14.684947)],
                knots=[0, 0, 0, 0, 0, 1, 1, 1, 1, 1], degree=4))
            Line((26.32938, -14.684947), (25.619728, -14.286735))
            ThreePointArc((25.619728, -14.286735), (25.082952, -13.622039), (25.156525, -12.770842))
            ThreePointArc((25.156525, -12.770842), (25.418584, -12.240945), (25.669483, -11.705673))
            ThreePointArc((25.669483, -11.705673), (26.289104, -11.117439), (27.143458, -11.122676))
            Line((27.143458, -11.122676), (27.897254, -11.429224))
            add(Edge.make_bspline(
                [(27.897254, -11.429224), (28.12803, -11.504313), (29.06152, -11.773281), (30.809038, -11.874427), (33.18697, -11.351941)],
                knots=[0, 0, 0, 0, 0, 1, 1, 1, 1, 1], degree=4))
            ThreePointArc((33.18697, -11.351941), (33.516524, -10.338478), (33.815137, -9.315472))
            add(Edge.make_bspline(
                [(33.815137, -9.315472), (32.144724, -7.544237), (30.64388, -6.643396), (29.72108, -6.339774), (29.488104, -6.271815)],
                knots=[0, 0, 0, 0, 0, 1, 1, 1, 1, 1], degree=4))
            Line((29.488104, -6.271815), (28.692604, -6.100468))
            ThreePointArc((28.692604, -6.100468), (27.983753, -5.62352), (27.803163, -4.788454))
            ThreePointArc((27.803163, -4.788454), (27.89739, -4.204855), (27.979368, -3.61941))
            ThreePointArc((27.979368, -3.61941), (28.398075, -2.874673), (29.216017, -2.627852))
        make_face()
    extrude(amount=PAD_DEPTH)

    # Cut: cut hole
    add(hole.part, mode=Mode.SUBTRACT)

    # Cut002: cut gearcutter_d
    add(gearcutter_d.part, mode=Mode.SUBTRACT)


with BuildPart() as clone_of_pad002:
    # Sketch001 → Pad001 (new body)
    with BuildSketch(Plane.XY):
        with BuildLine():
            Line((20.522763, 10), (-20, 10))
            Line((-20, 10), (-20, 40))
            Line((-20, 40), (-12.44178, 46.907085))
            Line((-12.44178, 63.085703), (-12.44178, 46.907085))
            ThreePointArc((-3.272439, 119.933259), (-16.862004, 92.961944), (-12.44178, 63.085703))
            Line((12.5, 119.933259), (-3.272439, 119.933259))
            Line((12.5, 119.933259), (12.5, 114.933259))
            ThreePointArc((12.5, 114.933259), (-3.21942, 80.514127), (20.522763, 51.050835))
            Line((20.522763, 51.050835), (20.522763, 10))
        make_face()
    extrude(amount=PAD001_DEPTH)


with BuildPart() as pince_d:
    # Part__Mirroring: instance of Clone of Pad002
    add(clone_of_pad002.part.mirror(Plane(origin=(0, 0, 0), x_dir=(0, -1, 0), z_dir=(1, 0, 0))))

    # Fusion001: union Cut002
    add(cut002.part)


solid = pince_d.part
